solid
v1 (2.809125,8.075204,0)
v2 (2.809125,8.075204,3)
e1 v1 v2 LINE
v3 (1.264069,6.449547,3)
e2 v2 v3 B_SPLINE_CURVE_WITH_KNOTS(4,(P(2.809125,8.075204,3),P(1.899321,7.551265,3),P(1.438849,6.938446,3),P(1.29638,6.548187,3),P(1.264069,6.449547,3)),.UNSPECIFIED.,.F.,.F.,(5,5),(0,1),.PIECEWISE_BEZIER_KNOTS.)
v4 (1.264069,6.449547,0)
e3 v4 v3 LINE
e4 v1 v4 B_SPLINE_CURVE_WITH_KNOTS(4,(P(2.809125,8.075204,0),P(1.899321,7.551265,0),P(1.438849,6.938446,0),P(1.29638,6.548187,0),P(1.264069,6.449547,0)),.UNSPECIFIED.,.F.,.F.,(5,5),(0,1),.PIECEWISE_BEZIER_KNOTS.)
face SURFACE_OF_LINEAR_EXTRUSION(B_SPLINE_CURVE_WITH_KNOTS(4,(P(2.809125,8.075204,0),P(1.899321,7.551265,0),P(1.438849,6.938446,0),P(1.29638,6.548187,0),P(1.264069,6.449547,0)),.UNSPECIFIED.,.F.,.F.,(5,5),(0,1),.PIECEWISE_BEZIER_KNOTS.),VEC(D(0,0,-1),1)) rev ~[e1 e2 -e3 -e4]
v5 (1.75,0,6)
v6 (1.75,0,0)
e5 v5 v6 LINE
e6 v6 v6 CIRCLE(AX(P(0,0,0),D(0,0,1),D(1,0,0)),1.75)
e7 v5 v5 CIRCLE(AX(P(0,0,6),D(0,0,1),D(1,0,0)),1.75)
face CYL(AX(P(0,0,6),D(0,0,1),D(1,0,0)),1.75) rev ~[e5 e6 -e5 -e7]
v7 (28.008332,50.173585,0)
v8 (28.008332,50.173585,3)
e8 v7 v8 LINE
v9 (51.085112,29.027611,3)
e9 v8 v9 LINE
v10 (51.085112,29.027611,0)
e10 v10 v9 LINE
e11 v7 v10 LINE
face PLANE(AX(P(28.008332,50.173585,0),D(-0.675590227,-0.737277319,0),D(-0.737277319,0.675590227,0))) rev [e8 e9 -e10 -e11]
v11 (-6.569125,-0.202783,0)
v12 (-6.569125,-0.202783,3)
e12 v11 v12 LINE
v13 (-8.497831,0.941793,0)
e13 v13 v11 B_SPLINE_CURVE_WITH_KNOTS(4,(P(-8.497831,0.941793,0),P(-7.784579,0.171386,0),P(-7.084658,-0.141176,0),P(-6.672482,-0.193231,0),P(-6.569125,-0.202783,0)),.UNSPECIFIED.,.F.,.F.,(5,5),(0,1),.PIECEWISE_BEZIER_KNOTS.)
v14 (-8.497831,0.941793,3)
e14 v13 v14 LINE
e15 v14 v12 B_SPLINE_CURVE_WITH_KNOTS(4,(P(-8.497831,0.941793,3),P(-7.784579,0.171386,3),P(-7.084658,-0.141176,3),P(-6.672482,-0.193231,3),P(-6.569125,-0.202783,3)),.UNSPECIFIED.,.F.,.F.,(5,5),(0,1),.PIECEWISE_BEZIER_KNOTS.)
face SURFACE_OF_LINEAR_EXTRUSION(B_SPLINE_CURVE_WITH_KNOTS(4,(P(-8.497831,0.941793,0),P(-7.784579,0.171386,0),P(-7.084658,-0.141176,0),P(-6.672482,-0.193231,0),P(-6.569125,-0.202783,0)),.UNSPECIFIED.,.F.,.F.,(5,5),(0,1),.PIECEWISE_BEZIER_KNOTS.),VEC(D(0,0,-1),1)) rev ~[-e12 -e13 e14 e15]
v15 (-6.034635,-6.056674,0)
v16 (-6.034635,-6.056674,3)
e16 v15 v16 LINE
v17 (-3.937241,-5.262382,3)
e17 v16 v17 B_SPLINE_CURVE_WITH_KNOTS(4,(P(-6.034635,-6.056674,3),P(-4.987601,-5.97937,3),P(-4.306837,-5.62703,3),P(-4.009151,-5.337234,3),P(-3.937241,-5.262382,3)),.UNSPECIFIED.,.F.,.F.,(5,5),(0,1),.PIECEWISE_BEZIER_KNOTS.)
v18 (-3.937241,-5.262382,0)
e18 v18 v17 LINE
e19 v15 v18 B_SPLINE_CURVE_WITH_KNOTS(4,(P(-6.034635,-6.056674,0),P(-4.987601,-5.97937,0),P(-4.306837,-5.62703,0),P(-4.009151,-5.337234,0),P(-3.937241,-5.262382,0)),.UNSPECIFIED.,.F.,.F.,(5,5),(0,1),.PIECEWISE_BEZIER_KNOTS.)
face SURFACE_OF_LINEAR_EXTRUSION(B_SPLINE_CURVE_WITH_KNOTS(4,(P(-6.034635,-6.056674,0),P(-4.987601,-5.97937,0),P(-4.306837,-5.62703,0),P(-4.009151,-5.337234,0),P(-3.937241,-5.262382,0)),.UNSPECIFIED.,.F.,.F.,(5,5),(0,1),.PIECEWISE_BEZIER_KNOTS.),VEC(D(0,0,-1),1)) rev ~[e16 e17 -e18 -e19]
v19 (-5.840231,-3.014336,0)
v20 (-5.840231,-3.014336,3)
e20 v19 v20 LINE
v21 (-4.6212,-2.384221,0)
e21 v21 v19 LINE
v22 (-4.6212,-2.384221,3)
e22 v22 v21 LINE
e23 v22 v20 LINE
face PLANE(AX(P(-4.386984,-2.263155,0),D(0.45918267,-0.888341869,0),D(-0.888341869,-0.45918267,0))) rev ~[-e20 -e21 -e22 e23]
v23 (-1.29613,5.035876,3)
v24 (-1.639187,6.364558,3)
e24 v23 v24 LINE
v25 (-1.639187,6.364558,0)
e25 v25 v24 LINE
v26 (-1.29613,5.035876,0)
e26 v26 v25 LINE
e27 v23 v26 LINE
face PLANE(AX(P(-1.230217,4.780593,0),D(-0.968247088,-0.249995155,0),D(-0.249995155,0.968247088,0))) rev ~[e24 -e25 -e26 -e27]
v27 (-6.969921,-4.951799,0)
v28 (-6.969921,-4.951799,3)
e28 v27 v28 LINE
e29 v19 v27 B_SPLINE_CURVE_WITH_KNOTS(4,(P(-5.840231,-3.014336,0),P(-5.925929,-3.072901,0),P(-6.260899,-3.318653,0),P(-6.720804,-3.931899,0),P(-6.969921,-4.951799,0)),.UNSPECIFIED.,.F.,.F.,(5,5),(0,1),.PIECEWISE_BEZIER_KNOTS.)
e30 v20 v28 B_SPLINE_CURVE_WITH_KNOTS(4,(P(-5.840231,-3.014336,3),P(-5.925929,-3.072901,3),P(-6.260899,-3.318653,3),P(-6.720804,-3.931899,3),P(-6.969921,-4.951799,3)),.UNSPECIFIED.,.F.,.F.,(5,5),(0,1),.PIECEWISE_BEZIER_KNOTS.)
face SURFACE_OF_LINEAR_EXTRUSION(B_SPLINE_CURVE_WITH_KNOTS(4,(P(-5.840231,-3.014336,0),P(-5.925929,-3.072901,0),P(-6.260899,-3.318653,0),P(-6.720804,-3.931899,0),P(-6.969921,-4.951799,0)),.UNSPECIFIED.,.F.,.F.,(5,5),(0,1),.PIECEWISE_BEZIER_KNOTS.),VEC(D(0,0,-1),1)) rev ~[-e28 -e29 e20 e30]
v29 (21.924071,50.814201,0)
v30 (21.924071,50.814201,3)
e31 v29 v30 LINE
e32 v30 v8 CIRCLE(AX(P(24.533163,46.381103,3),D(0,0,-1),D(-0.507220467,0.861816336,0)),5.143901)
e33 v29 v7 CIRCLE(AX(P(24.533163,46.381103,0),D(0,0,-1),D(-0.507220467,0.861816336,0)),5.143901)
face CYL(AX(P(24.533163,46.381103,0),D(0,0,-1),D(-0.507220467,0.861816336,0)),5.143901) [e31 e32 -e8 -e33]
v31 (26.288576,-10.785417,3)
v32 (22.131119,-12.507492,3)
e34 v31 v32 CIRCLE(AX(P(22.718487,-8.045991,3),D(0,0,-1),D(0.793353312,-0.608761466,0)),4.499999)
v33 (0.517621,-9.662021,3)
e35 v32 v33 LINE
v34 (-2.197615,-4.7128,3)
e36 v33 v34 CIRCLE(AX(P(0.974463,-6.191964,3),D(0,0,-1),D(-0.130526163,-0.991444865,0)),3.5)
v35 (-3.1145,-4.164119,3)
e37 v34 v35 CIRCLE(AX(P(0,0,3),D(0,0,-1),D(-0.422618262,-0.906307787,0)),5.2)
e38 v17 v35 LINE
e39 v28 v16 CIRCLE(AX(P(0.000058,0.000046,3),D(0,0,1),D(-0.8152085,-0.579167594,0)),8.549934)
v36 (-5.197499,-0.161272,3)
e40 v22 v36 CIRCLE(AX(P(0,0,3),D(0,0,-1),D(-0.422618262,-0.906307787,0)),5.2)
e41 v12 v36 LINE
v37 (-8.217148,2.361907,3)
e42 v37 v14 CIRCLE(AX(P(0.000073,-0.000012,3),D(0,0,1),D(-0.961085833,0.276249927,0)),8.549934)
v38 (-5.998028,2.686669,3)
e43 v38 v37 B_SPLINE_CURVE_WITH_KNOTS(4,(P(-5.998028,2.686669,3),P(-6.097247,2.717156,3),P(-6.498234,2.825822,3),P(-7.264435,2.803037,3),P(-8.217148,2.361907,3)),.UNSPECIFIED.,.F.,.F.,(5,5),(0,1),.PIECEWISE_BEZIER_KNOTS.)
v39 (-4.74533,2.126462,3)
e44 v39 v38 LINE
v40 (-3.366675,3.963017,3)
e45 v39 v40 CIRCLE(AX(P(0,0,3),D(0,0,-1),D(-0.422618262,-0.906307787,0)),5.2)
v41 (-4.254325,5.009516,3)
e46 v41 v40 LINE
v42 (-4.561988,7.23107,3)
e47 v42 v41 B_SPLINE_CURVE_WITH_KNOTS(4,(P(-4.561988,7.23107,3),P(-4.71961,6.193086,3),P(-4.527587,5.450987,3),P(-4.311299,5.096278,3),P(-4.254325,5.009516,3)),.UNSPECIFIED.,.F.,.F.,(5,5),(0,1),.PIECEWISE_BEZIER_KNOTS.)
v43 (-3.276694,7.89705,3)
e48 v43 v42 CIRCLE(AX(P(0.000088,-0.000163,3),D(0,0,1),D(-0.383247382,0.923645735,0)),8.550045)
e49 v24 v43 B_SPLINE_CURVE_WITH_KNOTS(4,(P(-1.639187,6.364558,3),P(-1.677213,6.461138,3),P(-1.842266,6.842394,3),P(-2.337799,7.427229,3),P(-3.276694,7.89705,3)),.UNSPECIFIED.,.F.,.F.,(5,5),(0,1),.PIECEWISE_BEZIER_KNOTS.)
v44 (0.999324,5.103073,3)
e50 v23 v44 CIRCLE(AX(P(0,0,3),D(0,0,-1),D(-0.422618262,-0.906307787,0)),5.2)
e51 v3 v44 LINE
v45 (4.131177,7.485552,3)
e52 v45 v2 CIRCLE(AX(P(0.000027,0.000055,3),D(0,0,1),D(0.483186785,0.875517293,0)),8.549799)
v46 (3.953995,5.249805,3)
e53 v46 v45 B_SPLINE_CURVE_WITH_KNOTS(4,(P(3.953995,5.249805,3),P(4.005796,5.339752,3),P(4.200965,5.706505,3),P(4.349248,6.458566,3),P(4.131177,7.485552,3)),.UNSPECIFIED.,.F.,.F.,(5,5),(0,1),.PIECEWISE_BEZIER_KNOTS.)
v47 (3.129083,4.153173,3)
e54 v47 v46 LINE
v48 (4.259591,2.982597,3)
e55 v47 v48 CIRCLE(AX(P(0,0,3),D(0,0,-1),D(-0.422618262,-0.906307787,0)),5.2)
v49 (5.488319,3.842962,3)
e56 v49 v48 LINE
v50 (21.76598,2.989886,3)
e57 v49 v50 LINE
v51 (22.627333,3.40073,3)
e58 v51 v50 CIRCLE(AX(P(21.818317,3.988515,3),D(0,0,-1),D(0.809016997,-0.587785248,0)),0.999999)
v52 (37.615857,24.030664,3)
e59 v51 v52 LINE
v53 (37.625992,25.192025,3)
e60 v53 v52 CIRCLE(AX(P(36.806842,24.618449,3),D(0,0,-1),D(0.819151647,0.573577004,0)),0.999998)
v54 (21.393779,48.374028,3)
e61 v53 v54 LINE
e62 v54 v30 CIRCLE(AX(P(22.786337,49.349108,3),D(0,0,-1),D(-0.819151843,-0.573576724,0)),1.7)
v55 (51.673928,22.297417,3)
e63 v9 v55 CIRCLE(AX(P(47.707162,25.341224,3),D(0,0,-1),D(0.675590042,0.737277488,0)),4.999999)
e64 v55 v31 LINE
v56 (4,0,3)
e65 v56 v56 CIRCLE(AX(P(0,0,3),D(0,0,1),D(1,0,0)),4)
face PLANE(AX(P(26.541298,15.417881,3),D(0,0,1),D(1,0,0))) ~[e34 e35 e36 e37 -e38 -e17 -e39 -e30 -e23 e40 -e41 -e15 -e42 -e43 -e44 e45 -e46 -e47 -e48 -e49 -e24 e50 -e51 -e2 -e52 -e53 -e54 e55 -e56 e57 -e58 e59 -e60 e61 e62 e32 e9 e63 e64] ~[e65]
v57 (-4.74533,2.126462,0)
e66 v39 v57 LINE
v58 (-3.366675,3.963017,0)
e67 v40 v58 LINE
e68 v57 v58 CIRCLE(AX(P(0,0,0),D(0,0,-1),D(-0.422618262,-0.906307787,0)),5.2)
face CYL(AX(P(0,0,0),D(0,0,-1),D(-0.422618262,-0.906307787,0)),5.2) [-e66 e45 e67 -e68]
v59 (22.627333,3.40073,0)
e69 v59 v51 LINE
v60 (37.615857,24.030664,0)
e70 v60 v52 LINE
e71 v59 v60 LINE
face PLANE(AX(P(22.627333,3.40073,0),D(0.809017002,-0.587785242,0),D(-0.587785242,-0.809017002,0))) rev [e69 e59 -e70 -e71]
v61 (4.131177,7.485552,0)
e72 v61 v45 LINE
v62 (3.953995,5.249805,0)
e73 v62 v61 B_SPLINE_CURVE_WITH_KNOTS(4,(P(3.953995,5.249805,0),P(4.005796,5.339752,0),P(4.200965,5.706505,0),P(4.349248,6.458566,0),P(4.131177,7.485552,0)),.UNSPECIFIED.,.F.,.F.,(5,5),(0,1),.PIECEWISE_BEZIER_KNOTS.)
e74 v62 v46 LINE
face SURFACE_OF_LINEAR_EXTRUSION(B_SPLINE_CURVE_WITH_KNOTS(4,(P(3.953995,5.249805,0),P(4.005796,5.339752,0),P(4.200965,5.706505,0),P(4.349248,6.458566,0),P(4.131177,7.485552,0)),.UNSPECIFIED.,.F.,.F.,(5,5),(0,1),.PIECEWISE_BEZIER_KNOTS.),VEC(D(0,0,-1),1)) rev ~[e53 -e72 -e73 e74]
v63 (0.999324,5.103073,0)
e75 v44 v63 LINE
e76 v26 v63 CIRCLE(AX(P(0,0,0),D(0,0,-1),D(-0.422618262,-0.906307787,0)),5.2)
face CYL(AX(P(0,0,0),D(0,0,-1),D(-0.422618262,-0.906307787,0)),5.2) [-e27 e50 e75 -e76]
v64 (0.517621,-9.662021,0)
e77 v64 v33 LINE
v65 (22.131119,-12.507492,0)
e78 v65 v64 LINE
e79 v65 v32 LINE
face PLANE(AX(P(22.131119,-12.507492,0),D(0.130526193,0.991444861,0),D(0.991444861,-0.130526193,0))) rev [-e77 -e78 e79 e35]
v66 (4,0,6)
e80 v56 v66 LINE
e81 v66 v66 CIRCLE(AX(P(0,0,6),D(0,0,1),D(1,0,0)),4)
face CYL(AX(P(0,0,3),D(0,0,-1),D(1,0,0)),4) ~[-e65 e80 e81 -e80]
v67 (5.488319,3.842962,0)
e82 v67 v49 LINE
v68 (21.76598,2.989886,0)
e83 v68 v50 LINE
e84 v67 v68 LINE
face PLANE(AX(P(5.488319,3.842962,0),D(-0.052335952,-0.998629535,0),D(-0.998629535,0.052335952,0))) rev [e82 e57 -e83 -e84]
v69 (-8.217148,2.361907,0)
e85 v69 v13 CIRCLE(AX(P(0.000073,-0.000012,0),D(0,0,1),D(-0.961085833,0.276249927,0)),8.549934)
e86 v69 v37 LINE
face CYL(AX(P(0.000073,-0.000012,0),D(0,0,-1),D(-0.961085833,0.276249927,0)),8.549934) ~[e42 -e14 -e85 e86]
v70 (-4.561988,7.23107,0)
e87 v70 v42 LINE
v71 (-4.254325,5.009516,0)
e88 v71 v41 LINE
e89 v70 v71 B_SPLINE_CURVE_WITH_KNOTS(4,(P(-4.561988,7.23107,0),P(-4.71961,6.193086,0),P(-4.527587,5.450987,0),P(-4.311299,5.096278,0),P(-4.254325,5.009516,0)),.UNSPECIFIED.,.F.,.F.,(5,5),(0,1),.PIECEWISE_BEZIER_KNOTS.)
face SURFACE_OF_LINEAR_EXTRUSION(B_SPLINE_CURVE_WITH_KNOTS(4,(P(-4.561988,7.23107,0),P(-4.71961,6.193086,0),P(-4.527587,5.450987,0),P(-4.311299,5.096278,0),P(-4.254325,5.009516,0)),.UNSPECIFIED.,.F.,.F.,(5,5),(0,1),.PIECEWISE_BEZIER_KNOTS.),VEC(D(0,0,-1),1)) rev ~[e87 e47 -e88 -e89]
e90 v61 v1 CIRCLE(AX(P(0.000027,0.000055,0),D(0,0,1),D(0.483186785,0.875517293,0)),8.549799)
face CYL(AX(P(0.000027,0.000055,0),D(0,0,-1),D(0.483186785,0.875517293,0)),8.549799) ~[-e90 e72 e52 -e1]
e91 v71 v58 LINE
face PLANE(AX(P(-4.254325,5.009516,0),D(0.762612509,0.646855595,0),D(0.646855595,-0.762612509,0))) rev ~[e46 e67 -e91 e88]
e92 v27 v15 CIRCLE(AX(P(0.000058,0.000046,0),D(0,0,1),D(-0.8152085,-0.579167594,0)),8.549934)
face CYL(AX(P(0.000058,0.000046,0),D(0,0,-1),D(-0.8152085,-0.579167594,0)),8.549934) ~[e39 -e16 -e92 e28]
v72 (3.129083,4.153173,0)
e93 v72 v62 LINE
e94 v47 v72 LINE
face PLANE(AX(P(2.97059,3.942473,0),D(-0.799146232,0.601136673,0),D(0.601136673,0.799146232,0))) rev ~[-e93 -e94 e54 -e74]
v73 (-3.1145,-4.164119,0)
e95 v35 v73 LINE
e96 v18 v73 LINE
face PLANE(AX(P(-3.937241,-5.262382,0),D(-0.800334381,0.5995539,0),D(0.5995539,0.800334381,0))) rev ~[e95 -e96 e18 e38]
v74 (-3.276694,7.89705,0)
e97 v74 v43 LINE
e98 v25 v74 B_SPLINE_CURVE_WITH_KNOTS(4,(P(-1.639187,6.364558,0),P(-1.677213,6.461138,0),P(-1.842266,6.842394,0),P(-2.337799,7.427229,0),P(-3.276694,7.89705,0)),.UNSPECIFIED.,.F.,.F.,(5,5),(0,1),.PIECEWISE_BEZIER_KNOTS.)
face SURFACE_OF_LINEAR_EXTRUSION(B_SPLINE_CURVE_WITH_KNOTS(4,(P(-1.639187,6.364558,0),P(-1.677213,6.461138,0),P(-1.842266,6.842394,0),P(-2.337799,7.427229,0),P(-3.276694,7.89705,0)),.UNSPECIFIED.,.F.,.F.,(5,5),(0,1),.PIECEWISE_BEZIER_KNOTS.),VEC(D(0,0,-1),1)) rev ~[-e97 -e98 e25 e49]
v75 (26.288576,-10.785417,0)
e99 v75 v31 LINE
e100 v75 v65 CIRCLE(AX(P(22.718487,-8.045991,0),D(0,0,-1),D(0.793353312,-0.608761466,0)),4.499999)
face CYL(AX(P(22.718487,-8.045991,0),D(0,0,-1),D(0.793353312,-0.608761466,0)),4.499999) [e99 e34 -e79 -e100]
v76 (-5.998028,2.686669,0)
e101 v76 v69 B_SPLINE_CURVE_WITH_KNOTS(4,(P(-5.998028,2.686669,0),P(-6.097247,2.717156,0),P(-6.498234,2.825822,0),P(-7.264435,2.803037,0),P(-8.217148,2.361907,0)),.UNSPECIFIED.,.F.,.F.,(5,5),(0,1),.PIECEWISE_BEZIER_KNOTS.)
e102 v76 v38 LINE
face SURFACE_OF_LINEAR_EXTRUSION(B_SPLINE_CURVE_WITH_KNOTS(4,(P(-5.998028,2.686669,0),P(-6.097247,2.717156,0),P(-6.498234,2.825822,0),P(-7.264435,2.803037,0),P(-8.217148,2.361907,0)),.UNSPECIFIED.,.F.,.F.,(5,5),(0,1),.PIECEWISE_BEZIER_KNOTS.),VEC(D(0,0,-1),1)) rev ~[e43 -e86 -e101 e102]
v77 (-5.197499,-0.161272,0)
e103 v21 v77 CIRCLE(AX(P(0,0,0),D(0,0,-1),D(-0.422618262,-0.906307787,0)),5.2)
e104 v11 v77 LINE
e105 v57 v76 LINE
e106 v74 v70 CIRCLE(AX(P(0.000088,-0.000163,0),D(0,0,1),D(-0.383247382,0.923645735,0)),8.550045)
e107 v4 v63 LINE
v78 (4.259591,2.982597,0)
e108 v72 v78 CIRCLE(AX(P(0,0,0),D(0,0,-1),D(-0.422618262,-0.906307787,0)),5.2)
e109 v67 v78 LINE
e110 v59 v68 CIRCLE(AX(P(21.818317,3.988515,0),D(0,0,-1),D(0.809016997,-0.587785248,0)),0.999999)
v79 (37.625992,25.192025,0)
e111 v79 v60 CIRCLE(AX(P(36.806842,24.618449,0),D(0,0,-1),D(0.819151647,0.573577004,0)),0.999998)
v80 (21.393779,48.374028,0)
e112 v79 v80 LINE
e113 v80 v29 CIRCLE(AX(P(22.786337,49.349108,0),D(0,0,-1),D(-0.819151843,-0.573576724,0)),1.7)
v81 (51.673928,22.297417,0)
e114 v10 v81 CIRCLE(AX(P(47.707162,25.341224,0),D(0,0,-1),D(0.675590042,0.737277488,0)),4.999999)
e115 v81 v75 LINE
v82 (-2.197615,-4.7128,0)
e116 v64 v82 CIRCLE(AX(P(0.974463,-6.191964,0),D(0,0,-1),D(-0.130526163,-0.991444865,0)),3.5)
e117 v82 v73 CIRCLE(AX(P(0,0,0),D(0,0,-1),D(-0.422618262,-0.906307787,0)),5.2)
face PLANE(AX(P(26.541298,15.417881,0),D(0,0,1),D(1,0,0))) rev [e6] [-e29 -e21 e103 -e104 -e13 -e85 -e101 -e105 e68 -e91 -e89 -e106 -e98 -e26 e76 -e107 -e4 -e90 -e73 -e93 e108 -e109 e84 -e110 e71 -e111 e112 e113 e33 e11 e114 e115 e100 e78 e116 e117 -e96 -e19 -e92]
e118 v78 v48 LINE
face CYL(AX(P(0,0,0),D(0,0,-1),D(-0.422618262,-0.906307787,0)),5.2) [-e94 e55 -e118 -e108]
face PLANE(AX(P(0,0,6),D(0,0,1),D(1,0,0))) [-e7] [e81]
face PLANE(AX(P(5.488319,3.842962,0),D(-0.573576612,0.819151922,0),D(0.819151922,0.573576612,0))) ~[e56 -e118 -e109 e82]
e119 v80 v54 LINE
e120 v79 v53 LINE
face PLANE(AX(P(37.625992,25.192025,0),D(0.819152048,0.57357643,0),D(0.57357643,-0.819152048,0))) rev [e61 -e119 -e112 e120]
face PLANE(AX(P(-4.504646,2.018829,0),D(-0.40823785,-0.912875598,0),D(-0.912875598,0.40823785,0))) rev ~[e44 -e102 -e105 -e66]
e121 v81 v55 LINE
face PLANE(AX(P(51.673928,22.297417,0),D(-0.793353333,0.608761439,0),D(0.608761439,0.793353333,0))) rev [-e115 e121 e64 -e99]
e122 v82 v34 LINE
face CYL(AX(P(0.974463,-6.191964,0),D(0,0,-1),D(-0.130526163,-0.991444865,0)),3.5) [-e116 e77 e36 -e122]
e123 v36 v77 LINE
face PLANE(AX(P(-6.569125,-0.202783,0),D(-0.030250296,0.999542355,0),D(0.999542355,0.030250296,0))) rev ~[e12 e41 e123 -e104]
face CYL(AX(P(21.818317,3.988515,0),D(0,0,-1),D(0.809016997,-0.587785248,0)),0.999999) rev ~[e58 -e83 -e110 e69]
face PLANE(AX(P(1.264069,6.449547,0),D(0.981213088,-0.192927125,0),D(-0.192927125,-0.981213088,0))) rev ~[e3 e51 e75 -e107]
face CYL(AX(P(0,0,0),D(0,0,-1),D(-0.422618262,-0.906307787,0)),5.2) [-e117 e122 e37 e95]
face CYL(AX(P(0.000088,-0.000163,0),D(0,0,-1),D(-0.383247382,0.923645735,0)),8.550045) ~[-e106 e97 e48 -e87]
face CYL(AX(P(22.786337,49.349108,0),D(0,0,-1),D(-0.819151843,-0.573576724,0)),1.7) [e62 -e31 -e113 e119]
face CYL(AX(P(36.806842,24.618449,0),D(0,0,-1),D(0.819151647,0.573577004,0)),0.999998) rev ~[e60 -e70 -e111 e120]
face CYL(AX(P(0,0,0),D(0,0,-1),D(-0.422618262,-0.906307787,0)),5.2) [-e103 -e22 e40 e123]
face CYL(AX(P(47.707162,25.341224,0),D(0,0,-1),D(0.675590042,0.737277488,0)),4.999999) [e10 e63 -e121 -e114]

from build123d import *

# Parameters (mm, degrees)
PAD_DEPTH                                 = 3
EXTRUDE_DEPTH                             = 3
EXTRUDE_ONTO_INVOLUTEGEAR_PLACEMENT_ANGLE = -15
EXTRUDE_PLACEMENT_ANGLE                   = 29.533929
SKETCH001_R                               = 4
PAD001_DEPTH                              = 3
SKETCH002_R                               = 1.75
POCKET001_DEPTH                           = 6.001


with BuildPart() as claw_body:
    # Sketch → Pad (new body)
    with BuildSketch(Plane.XY):
        with BuildLine():
            ThreePointArc((2.197615, -4.7128), (3.983431, 3.342496), (-4.259591, 2.982597))
            Line((-5.488319, 3.842962), (-4.259591, 2.982597))
            Line((-5.488319, 3.842962), (-21.76598, 2.989886))
            ThreePointArc((-22.627333, 3.40073), (-22.248827, 3.08593), (-21.76598, 2.989886))
            Line((-22.627333, 3.40073), (-37.615857, 24.030664))
            ThreePointArc((-37.625992, 25.192025), (-37.806802, 24.609722), (-37.615857, 24.030664))
            Line((-37.625992, 25.192025), (-21.393779, 48.374028))
            ThreePointArc((-21.393779, 48.374028), (-21.125112, 49.710122), (-21.924071, 50.814201))
            ThreePointArc((-21.924071, 50.814201), (-25.071791, 51.496726), (-28.008332, 50.173585))
            Line((-28.008332, 50.173585), (-51.085112, 29.027611))
            ThreePointArc((-51.085112, 29.027611), (-52.688135, 25.777003), (-51.673928, 22.297417))
            Line((-51.673928, 22.297417), (-26.288576, -10.785417))
            ThreePointArc((-26.288576, -10.785417), (-24.440562, -12.203448), (-22.131119, -12.507492))
            Line((-22.131119, -12.507492), (-0.517621, -9.662021))
            ThreePointArc((-0.517621, -9.662021), (2.094081, -7.875425), (2.197615, -4.7128))
        make_face()
    extrude(amount=PAD_DEPTH)


with BuildPart() as part_mirroring:
    # Part__Mirroring: instance of claw-body
    add(claw_body.part.mirror(Plane(origin=(0, 0, 0), x_dir=(0, -1, 0), z_dir=(1, 0, 0))))


with BuildPart() as drill:
    # InvoluteGear as drawn → Extrude (new)
    with BuildSketch(Plane.XY):
        with BuildLine():
            Line((4.810602, -1.107072), (6.405135, -1.472675))
            add(Edge.make_bspline(
                [(6.405135, -1.472675), (6.508382, -1.483345), (6.922829, -1.512197), (7.670072, -1.341281), (8.519169, -0.723794)],
                knots=[0, 0, 0, 0, 0, 1, 1, 1, 1, 1], degree=4))
            ThreePointArc((8.519169, -0.723794), (8.54986, 0), (8.519169, 0.723794))
            add(Edge.make_bspline(
                [(8.519169, 0.723794), (7.670072, 1.341281), (6.922829, 1.512197), (6.508382, 1.483345), (6.405135, 1.472675)],
                knots=[0, 0, 0, 0, 0, 1, 1, 1, 1, 1], degree=4))
            Line((6.405135, 1.472675), (4.810602, 1.107072))
            ThreePointArc((4.810602, 1.107072), (4.31977, 1.170473), (3.988644, 1.538293))
            ThreePointArc((3.988644, 1.538293), (3.851642, 1.854853), (3.689565, 2.159338))
            ThreePointArc((3.689565, 2.159338), (3.608445, 2.647554), (3.864905, 3.070832))
            Line((3.864905, 3.070832), (5.14492, 4.089539))
            add(Edge.make_bspline(
                [(5.14492, 4.089539), (5.217636, 4.163608), (5.498597, 4.469646), (5.830867, 5.160429), (5.8775, 6.209276)],
                knots=[0, 0, 0, 0, 0, 1, 1, 1, 1, 1], degree=4))
            ThreePointArc((5.8775, 6.209276), (5.330751, 6.68455), (4.74573, 7.111832))
            add(Edge.make_bspline(
                [(4.74573, 7.111832), (3.733556, 6.832978), (3.13403, 6.355326), (2.898184, 6.013309), (2.842153, 5.925934)],
                knots=[0, 0, 0, 0, 0, 1, 1, 1, 1, 1], degree=4))
            Line((2.842153, 5.925934), (2.133817, 4.451328))
            ThreePointArc((2.133817, 4.451328), (1.77822, 4.10711), (1.284193, 4.077557))
            ThreePointArc((1.284193, 4.077557), (0.951277, 4.167817), (0.612168, 4.230943))
            ThreePointArc((0.612168, 4.230943), (0.179887, 4.471919), (0.008856, 4.936337))
            Line((0.008856, 4.936337), (0.010475, 6.572246))
            add(Edge.make_bspline(
                [(0.010475, 6.572246), (-0.002097, 6.675279), (-0.066191, 7.085755), (-0.3991, 7.77623), (-1.190047, 8.466635)],
                knots=[0, 0, 0, 0, 0, 1, 1, 1, 1, 1], degree=4))
            ThreePointArc((-1.190047, 8.466635), (-1.902523, 8.335497), (-2.60134, 8.144516))
            add(Edge.make_bspline(
                [(-2.60134, 8.144516), (-3.014403, 7.179304), (-3.014758, 6.412764), (-2.894406, 6.015128), (-2.861029, 5.916844)],
                knots=[0, 0, 0, 0, 0, 1, 1, 1, 1, 1], degree=4))
            Line((-2.861029, 5.916844), (-2.149775, 4.443643))
            ThreePointArc((-2.149775, 4.443643), (-2.102366, 3.951009), (-2.387281, 3.546338))
            ThreePointArc((-2.387281, 3.546338), (-2.665419, 3.34233), (-2.926204, 3.116562))
            ThreePointArc((-2.926204, 3.116562), (-3.384129, 2.928837), (-3.853862, 3.08468))
            Line((-3.853862, 3.08468), (-5.131858, 4.105918))
            add(Edge.make_bspline(
                [(-5.131858, 4.105918), (-5.220251, 4.160329), (-5.581136, 4.366146), (-6.328536, 4.536371), (-7.361464, 4.348444)],
                knots=[0, 0, 0, 0, 0, 1, 1, 1, 1, 1], degree=4))
            ThreePointArc((-7.361464, 4.348444), (-7.703158, 3.709645), (-7.989548, 3.044213))
            add(Edge.make_bspline(
                [(-7.989548, 3.044213), (-7.492456, 2.119467), (-6.893372, 1.64126), (-6.507449, 1.487434), (-6.409797, 1.45225)],
                knots=[0, 0, 0, 0, 0, 1, 1, 1, 1, 1], degree=4))
            Line((-6.409797, 1.45225), (-4.814543, 1.089804))
            ThreePointArc((-4.814543, 1.089804), (-4.399827, 0.819718), (-4.261084, 0.344654))
            ThreePointArc((-4.261084, 0.344654), (-4.275, 0), (-4.261084, -0.344654))
            ThreePointArc((-4.261084, -0.344654), (-4.399827, -0.819718), (-4.814543, -1.089804))
            Line((-4.814543, -1.089804), (-6.409797, -1.45225))
            add(Edge.make_bspline(
                [(-6.409797, -1.45225), (-6.507449, -1.487434), (-6.893372, -1.64126), (-7.492456, -2.119467), (-7.989548, -3.044213)],
                knots=[0, 0, 0, 0, 0, 1, 1, 1, 1, 1], degree=4))
            ThreePointArc((-7.989548, -3.044213), (-7.703158, -3.709645), (-7.361464, -4.348444))
            add(Edge.make_bspline(
                [(-7.361464, -4.348444), (-6.328536, -4.536371), (-5.581136, -4.366146), (-5.220251, -4.160329), (-5.131858, -4.105918)],
                knots=[0, 0, 0, 0, 0, 1, 1, 1, 1, 1], degree=4))
            Line((-5.131858, -4.105918), (-3.853862, -3.08468))
            ThreePointArc((-3.853862, -3.08468), (-3.384129, -2.928837), (-2.926204, -3.116562))
            ThreePointArc((-2.926204, -3.116562), (-2.665419, -3.34233), (-2.387281, -3.546338))
            ThreePointArc((-2.387281, -3.546338), (-2.102366, -3.951009), (-2.149775, -4.443643))
            Line((-2.149775, -4.443643), (-2.861029, -5.916844))
            add(Edge.make_bspline(
                [(-2.861029, -5.916844), (-2.894406, -6.015128), (-3.014758, -6.412764), (-3.014403, -7.179304), (-2.60134, -8.144516)],
                knots=[0, 0, 0, 0, 0, 1, 1, 1, 1, 1], degree=4))
            ThreePointArc((-2.60134, -8.144516), (-1.902523, -8.335497), (-1.190047, -8.466635))
            add(Edge.make_bspline(
                [(-1.190047, -8.466635), (-0.3991, -7.77623), (-0.066191, -7.085755), (-0.002097, -6.675279), (0.010475, -6.572246)],
                knots=[0, 0, 0, 0, 0, 1, 1, 1, 1, 1], degree=4))
            Line((0.010475, -6.572246), (0.008856, -4.936337))
            ThreePointArc((0.008856, -4.936337), (0.179887, -4.471919), (0.612168, -4.230943))
            ThreePointArc((0.612168, -4.230943), (0.951277, -4.167817), (1.284193, -4.077557))
            ThreePointArc((1.284193, -4.077557), (1.77822, -4.10711), (2.133817, -4.451328))
            Line((2.133817, -4.451328), (2.842153, -5.925934))
            add(Edge.make_bspline(
                [(2.842153, -5.925934), (2.898184, -6.013309), (3.13403, -6.355326), (3.733556, -6.832978), (4.74573, -7.111832)],
                knots=[0, 0, 0, 0, 0, 1, 1, 1, 1, 1], degree=4))
            ThreePointArc((4.74573, -7.111832), (5.330751, -6.68455), (5.8775, -6.209276))
            add(Edge.make_bspline(
                [(5.8775, -6.209276), (5.830867, -5.160429), (5.498597, -4.469646), (5.217636, -4.163608), (5.14492, -4.089539)],
                knots=[0, 0, 0, 0, 0, 1, 1, 1, 1, 1], degree=4))
            Line((5.14492, -4.089539), (3.864905, -3.070832))
            ThreePointArc((3.864905, -3.070832), (3.608445, -2.647554), (3.689565, -2.159338))
            ThreePointArc((3.689565, -2.159338), (3.851642, -1.854853), (3.988644, -1.538293))
            ThreePointArc((3.988644, -1.538293), (4.31977, -1.170473), (4.810602, -1.107072))
        make_face()
    extrude(amount=EXTRUDE_DEPTH)


with BuildPart() as drill_1:
    # Extrude onto InvoluteGear placement: moved
    add(drill.part.rotate(Axis((0, 0, 0), (0, 0, 1)), EXTRUDE_ONTO_INVOLUTEGEAR_PLACEMENT_ANGLE))


with BuildPart() as drill_2:
    # Extrude placement: moved
    add(drill_1.part.rotate(Axis((0, 0, 0), (0, 0, 1)), EXTRUDE_PLACEMENT_ANGLE))

    # Fusion001: union Part__Mirroring
    add(part_mirroring.part)

    # Sketch001 → Pad001 (new body)
    with BuildSketch(Plane.XY.offset(3)):
        Circle(SKETCH001_R)
    extrude(amount=PAD001_DEPTH)

    # Sketch002 → Pocket001 (cut, through all)
    with BuildSketch(Plane.XY.offset(6)):
        Circle(SKETCH002_R)
    extrude(amount=-POCKET001_DEPTH, mode=Mode.SUBTRACT)


solid = drill_2.part
